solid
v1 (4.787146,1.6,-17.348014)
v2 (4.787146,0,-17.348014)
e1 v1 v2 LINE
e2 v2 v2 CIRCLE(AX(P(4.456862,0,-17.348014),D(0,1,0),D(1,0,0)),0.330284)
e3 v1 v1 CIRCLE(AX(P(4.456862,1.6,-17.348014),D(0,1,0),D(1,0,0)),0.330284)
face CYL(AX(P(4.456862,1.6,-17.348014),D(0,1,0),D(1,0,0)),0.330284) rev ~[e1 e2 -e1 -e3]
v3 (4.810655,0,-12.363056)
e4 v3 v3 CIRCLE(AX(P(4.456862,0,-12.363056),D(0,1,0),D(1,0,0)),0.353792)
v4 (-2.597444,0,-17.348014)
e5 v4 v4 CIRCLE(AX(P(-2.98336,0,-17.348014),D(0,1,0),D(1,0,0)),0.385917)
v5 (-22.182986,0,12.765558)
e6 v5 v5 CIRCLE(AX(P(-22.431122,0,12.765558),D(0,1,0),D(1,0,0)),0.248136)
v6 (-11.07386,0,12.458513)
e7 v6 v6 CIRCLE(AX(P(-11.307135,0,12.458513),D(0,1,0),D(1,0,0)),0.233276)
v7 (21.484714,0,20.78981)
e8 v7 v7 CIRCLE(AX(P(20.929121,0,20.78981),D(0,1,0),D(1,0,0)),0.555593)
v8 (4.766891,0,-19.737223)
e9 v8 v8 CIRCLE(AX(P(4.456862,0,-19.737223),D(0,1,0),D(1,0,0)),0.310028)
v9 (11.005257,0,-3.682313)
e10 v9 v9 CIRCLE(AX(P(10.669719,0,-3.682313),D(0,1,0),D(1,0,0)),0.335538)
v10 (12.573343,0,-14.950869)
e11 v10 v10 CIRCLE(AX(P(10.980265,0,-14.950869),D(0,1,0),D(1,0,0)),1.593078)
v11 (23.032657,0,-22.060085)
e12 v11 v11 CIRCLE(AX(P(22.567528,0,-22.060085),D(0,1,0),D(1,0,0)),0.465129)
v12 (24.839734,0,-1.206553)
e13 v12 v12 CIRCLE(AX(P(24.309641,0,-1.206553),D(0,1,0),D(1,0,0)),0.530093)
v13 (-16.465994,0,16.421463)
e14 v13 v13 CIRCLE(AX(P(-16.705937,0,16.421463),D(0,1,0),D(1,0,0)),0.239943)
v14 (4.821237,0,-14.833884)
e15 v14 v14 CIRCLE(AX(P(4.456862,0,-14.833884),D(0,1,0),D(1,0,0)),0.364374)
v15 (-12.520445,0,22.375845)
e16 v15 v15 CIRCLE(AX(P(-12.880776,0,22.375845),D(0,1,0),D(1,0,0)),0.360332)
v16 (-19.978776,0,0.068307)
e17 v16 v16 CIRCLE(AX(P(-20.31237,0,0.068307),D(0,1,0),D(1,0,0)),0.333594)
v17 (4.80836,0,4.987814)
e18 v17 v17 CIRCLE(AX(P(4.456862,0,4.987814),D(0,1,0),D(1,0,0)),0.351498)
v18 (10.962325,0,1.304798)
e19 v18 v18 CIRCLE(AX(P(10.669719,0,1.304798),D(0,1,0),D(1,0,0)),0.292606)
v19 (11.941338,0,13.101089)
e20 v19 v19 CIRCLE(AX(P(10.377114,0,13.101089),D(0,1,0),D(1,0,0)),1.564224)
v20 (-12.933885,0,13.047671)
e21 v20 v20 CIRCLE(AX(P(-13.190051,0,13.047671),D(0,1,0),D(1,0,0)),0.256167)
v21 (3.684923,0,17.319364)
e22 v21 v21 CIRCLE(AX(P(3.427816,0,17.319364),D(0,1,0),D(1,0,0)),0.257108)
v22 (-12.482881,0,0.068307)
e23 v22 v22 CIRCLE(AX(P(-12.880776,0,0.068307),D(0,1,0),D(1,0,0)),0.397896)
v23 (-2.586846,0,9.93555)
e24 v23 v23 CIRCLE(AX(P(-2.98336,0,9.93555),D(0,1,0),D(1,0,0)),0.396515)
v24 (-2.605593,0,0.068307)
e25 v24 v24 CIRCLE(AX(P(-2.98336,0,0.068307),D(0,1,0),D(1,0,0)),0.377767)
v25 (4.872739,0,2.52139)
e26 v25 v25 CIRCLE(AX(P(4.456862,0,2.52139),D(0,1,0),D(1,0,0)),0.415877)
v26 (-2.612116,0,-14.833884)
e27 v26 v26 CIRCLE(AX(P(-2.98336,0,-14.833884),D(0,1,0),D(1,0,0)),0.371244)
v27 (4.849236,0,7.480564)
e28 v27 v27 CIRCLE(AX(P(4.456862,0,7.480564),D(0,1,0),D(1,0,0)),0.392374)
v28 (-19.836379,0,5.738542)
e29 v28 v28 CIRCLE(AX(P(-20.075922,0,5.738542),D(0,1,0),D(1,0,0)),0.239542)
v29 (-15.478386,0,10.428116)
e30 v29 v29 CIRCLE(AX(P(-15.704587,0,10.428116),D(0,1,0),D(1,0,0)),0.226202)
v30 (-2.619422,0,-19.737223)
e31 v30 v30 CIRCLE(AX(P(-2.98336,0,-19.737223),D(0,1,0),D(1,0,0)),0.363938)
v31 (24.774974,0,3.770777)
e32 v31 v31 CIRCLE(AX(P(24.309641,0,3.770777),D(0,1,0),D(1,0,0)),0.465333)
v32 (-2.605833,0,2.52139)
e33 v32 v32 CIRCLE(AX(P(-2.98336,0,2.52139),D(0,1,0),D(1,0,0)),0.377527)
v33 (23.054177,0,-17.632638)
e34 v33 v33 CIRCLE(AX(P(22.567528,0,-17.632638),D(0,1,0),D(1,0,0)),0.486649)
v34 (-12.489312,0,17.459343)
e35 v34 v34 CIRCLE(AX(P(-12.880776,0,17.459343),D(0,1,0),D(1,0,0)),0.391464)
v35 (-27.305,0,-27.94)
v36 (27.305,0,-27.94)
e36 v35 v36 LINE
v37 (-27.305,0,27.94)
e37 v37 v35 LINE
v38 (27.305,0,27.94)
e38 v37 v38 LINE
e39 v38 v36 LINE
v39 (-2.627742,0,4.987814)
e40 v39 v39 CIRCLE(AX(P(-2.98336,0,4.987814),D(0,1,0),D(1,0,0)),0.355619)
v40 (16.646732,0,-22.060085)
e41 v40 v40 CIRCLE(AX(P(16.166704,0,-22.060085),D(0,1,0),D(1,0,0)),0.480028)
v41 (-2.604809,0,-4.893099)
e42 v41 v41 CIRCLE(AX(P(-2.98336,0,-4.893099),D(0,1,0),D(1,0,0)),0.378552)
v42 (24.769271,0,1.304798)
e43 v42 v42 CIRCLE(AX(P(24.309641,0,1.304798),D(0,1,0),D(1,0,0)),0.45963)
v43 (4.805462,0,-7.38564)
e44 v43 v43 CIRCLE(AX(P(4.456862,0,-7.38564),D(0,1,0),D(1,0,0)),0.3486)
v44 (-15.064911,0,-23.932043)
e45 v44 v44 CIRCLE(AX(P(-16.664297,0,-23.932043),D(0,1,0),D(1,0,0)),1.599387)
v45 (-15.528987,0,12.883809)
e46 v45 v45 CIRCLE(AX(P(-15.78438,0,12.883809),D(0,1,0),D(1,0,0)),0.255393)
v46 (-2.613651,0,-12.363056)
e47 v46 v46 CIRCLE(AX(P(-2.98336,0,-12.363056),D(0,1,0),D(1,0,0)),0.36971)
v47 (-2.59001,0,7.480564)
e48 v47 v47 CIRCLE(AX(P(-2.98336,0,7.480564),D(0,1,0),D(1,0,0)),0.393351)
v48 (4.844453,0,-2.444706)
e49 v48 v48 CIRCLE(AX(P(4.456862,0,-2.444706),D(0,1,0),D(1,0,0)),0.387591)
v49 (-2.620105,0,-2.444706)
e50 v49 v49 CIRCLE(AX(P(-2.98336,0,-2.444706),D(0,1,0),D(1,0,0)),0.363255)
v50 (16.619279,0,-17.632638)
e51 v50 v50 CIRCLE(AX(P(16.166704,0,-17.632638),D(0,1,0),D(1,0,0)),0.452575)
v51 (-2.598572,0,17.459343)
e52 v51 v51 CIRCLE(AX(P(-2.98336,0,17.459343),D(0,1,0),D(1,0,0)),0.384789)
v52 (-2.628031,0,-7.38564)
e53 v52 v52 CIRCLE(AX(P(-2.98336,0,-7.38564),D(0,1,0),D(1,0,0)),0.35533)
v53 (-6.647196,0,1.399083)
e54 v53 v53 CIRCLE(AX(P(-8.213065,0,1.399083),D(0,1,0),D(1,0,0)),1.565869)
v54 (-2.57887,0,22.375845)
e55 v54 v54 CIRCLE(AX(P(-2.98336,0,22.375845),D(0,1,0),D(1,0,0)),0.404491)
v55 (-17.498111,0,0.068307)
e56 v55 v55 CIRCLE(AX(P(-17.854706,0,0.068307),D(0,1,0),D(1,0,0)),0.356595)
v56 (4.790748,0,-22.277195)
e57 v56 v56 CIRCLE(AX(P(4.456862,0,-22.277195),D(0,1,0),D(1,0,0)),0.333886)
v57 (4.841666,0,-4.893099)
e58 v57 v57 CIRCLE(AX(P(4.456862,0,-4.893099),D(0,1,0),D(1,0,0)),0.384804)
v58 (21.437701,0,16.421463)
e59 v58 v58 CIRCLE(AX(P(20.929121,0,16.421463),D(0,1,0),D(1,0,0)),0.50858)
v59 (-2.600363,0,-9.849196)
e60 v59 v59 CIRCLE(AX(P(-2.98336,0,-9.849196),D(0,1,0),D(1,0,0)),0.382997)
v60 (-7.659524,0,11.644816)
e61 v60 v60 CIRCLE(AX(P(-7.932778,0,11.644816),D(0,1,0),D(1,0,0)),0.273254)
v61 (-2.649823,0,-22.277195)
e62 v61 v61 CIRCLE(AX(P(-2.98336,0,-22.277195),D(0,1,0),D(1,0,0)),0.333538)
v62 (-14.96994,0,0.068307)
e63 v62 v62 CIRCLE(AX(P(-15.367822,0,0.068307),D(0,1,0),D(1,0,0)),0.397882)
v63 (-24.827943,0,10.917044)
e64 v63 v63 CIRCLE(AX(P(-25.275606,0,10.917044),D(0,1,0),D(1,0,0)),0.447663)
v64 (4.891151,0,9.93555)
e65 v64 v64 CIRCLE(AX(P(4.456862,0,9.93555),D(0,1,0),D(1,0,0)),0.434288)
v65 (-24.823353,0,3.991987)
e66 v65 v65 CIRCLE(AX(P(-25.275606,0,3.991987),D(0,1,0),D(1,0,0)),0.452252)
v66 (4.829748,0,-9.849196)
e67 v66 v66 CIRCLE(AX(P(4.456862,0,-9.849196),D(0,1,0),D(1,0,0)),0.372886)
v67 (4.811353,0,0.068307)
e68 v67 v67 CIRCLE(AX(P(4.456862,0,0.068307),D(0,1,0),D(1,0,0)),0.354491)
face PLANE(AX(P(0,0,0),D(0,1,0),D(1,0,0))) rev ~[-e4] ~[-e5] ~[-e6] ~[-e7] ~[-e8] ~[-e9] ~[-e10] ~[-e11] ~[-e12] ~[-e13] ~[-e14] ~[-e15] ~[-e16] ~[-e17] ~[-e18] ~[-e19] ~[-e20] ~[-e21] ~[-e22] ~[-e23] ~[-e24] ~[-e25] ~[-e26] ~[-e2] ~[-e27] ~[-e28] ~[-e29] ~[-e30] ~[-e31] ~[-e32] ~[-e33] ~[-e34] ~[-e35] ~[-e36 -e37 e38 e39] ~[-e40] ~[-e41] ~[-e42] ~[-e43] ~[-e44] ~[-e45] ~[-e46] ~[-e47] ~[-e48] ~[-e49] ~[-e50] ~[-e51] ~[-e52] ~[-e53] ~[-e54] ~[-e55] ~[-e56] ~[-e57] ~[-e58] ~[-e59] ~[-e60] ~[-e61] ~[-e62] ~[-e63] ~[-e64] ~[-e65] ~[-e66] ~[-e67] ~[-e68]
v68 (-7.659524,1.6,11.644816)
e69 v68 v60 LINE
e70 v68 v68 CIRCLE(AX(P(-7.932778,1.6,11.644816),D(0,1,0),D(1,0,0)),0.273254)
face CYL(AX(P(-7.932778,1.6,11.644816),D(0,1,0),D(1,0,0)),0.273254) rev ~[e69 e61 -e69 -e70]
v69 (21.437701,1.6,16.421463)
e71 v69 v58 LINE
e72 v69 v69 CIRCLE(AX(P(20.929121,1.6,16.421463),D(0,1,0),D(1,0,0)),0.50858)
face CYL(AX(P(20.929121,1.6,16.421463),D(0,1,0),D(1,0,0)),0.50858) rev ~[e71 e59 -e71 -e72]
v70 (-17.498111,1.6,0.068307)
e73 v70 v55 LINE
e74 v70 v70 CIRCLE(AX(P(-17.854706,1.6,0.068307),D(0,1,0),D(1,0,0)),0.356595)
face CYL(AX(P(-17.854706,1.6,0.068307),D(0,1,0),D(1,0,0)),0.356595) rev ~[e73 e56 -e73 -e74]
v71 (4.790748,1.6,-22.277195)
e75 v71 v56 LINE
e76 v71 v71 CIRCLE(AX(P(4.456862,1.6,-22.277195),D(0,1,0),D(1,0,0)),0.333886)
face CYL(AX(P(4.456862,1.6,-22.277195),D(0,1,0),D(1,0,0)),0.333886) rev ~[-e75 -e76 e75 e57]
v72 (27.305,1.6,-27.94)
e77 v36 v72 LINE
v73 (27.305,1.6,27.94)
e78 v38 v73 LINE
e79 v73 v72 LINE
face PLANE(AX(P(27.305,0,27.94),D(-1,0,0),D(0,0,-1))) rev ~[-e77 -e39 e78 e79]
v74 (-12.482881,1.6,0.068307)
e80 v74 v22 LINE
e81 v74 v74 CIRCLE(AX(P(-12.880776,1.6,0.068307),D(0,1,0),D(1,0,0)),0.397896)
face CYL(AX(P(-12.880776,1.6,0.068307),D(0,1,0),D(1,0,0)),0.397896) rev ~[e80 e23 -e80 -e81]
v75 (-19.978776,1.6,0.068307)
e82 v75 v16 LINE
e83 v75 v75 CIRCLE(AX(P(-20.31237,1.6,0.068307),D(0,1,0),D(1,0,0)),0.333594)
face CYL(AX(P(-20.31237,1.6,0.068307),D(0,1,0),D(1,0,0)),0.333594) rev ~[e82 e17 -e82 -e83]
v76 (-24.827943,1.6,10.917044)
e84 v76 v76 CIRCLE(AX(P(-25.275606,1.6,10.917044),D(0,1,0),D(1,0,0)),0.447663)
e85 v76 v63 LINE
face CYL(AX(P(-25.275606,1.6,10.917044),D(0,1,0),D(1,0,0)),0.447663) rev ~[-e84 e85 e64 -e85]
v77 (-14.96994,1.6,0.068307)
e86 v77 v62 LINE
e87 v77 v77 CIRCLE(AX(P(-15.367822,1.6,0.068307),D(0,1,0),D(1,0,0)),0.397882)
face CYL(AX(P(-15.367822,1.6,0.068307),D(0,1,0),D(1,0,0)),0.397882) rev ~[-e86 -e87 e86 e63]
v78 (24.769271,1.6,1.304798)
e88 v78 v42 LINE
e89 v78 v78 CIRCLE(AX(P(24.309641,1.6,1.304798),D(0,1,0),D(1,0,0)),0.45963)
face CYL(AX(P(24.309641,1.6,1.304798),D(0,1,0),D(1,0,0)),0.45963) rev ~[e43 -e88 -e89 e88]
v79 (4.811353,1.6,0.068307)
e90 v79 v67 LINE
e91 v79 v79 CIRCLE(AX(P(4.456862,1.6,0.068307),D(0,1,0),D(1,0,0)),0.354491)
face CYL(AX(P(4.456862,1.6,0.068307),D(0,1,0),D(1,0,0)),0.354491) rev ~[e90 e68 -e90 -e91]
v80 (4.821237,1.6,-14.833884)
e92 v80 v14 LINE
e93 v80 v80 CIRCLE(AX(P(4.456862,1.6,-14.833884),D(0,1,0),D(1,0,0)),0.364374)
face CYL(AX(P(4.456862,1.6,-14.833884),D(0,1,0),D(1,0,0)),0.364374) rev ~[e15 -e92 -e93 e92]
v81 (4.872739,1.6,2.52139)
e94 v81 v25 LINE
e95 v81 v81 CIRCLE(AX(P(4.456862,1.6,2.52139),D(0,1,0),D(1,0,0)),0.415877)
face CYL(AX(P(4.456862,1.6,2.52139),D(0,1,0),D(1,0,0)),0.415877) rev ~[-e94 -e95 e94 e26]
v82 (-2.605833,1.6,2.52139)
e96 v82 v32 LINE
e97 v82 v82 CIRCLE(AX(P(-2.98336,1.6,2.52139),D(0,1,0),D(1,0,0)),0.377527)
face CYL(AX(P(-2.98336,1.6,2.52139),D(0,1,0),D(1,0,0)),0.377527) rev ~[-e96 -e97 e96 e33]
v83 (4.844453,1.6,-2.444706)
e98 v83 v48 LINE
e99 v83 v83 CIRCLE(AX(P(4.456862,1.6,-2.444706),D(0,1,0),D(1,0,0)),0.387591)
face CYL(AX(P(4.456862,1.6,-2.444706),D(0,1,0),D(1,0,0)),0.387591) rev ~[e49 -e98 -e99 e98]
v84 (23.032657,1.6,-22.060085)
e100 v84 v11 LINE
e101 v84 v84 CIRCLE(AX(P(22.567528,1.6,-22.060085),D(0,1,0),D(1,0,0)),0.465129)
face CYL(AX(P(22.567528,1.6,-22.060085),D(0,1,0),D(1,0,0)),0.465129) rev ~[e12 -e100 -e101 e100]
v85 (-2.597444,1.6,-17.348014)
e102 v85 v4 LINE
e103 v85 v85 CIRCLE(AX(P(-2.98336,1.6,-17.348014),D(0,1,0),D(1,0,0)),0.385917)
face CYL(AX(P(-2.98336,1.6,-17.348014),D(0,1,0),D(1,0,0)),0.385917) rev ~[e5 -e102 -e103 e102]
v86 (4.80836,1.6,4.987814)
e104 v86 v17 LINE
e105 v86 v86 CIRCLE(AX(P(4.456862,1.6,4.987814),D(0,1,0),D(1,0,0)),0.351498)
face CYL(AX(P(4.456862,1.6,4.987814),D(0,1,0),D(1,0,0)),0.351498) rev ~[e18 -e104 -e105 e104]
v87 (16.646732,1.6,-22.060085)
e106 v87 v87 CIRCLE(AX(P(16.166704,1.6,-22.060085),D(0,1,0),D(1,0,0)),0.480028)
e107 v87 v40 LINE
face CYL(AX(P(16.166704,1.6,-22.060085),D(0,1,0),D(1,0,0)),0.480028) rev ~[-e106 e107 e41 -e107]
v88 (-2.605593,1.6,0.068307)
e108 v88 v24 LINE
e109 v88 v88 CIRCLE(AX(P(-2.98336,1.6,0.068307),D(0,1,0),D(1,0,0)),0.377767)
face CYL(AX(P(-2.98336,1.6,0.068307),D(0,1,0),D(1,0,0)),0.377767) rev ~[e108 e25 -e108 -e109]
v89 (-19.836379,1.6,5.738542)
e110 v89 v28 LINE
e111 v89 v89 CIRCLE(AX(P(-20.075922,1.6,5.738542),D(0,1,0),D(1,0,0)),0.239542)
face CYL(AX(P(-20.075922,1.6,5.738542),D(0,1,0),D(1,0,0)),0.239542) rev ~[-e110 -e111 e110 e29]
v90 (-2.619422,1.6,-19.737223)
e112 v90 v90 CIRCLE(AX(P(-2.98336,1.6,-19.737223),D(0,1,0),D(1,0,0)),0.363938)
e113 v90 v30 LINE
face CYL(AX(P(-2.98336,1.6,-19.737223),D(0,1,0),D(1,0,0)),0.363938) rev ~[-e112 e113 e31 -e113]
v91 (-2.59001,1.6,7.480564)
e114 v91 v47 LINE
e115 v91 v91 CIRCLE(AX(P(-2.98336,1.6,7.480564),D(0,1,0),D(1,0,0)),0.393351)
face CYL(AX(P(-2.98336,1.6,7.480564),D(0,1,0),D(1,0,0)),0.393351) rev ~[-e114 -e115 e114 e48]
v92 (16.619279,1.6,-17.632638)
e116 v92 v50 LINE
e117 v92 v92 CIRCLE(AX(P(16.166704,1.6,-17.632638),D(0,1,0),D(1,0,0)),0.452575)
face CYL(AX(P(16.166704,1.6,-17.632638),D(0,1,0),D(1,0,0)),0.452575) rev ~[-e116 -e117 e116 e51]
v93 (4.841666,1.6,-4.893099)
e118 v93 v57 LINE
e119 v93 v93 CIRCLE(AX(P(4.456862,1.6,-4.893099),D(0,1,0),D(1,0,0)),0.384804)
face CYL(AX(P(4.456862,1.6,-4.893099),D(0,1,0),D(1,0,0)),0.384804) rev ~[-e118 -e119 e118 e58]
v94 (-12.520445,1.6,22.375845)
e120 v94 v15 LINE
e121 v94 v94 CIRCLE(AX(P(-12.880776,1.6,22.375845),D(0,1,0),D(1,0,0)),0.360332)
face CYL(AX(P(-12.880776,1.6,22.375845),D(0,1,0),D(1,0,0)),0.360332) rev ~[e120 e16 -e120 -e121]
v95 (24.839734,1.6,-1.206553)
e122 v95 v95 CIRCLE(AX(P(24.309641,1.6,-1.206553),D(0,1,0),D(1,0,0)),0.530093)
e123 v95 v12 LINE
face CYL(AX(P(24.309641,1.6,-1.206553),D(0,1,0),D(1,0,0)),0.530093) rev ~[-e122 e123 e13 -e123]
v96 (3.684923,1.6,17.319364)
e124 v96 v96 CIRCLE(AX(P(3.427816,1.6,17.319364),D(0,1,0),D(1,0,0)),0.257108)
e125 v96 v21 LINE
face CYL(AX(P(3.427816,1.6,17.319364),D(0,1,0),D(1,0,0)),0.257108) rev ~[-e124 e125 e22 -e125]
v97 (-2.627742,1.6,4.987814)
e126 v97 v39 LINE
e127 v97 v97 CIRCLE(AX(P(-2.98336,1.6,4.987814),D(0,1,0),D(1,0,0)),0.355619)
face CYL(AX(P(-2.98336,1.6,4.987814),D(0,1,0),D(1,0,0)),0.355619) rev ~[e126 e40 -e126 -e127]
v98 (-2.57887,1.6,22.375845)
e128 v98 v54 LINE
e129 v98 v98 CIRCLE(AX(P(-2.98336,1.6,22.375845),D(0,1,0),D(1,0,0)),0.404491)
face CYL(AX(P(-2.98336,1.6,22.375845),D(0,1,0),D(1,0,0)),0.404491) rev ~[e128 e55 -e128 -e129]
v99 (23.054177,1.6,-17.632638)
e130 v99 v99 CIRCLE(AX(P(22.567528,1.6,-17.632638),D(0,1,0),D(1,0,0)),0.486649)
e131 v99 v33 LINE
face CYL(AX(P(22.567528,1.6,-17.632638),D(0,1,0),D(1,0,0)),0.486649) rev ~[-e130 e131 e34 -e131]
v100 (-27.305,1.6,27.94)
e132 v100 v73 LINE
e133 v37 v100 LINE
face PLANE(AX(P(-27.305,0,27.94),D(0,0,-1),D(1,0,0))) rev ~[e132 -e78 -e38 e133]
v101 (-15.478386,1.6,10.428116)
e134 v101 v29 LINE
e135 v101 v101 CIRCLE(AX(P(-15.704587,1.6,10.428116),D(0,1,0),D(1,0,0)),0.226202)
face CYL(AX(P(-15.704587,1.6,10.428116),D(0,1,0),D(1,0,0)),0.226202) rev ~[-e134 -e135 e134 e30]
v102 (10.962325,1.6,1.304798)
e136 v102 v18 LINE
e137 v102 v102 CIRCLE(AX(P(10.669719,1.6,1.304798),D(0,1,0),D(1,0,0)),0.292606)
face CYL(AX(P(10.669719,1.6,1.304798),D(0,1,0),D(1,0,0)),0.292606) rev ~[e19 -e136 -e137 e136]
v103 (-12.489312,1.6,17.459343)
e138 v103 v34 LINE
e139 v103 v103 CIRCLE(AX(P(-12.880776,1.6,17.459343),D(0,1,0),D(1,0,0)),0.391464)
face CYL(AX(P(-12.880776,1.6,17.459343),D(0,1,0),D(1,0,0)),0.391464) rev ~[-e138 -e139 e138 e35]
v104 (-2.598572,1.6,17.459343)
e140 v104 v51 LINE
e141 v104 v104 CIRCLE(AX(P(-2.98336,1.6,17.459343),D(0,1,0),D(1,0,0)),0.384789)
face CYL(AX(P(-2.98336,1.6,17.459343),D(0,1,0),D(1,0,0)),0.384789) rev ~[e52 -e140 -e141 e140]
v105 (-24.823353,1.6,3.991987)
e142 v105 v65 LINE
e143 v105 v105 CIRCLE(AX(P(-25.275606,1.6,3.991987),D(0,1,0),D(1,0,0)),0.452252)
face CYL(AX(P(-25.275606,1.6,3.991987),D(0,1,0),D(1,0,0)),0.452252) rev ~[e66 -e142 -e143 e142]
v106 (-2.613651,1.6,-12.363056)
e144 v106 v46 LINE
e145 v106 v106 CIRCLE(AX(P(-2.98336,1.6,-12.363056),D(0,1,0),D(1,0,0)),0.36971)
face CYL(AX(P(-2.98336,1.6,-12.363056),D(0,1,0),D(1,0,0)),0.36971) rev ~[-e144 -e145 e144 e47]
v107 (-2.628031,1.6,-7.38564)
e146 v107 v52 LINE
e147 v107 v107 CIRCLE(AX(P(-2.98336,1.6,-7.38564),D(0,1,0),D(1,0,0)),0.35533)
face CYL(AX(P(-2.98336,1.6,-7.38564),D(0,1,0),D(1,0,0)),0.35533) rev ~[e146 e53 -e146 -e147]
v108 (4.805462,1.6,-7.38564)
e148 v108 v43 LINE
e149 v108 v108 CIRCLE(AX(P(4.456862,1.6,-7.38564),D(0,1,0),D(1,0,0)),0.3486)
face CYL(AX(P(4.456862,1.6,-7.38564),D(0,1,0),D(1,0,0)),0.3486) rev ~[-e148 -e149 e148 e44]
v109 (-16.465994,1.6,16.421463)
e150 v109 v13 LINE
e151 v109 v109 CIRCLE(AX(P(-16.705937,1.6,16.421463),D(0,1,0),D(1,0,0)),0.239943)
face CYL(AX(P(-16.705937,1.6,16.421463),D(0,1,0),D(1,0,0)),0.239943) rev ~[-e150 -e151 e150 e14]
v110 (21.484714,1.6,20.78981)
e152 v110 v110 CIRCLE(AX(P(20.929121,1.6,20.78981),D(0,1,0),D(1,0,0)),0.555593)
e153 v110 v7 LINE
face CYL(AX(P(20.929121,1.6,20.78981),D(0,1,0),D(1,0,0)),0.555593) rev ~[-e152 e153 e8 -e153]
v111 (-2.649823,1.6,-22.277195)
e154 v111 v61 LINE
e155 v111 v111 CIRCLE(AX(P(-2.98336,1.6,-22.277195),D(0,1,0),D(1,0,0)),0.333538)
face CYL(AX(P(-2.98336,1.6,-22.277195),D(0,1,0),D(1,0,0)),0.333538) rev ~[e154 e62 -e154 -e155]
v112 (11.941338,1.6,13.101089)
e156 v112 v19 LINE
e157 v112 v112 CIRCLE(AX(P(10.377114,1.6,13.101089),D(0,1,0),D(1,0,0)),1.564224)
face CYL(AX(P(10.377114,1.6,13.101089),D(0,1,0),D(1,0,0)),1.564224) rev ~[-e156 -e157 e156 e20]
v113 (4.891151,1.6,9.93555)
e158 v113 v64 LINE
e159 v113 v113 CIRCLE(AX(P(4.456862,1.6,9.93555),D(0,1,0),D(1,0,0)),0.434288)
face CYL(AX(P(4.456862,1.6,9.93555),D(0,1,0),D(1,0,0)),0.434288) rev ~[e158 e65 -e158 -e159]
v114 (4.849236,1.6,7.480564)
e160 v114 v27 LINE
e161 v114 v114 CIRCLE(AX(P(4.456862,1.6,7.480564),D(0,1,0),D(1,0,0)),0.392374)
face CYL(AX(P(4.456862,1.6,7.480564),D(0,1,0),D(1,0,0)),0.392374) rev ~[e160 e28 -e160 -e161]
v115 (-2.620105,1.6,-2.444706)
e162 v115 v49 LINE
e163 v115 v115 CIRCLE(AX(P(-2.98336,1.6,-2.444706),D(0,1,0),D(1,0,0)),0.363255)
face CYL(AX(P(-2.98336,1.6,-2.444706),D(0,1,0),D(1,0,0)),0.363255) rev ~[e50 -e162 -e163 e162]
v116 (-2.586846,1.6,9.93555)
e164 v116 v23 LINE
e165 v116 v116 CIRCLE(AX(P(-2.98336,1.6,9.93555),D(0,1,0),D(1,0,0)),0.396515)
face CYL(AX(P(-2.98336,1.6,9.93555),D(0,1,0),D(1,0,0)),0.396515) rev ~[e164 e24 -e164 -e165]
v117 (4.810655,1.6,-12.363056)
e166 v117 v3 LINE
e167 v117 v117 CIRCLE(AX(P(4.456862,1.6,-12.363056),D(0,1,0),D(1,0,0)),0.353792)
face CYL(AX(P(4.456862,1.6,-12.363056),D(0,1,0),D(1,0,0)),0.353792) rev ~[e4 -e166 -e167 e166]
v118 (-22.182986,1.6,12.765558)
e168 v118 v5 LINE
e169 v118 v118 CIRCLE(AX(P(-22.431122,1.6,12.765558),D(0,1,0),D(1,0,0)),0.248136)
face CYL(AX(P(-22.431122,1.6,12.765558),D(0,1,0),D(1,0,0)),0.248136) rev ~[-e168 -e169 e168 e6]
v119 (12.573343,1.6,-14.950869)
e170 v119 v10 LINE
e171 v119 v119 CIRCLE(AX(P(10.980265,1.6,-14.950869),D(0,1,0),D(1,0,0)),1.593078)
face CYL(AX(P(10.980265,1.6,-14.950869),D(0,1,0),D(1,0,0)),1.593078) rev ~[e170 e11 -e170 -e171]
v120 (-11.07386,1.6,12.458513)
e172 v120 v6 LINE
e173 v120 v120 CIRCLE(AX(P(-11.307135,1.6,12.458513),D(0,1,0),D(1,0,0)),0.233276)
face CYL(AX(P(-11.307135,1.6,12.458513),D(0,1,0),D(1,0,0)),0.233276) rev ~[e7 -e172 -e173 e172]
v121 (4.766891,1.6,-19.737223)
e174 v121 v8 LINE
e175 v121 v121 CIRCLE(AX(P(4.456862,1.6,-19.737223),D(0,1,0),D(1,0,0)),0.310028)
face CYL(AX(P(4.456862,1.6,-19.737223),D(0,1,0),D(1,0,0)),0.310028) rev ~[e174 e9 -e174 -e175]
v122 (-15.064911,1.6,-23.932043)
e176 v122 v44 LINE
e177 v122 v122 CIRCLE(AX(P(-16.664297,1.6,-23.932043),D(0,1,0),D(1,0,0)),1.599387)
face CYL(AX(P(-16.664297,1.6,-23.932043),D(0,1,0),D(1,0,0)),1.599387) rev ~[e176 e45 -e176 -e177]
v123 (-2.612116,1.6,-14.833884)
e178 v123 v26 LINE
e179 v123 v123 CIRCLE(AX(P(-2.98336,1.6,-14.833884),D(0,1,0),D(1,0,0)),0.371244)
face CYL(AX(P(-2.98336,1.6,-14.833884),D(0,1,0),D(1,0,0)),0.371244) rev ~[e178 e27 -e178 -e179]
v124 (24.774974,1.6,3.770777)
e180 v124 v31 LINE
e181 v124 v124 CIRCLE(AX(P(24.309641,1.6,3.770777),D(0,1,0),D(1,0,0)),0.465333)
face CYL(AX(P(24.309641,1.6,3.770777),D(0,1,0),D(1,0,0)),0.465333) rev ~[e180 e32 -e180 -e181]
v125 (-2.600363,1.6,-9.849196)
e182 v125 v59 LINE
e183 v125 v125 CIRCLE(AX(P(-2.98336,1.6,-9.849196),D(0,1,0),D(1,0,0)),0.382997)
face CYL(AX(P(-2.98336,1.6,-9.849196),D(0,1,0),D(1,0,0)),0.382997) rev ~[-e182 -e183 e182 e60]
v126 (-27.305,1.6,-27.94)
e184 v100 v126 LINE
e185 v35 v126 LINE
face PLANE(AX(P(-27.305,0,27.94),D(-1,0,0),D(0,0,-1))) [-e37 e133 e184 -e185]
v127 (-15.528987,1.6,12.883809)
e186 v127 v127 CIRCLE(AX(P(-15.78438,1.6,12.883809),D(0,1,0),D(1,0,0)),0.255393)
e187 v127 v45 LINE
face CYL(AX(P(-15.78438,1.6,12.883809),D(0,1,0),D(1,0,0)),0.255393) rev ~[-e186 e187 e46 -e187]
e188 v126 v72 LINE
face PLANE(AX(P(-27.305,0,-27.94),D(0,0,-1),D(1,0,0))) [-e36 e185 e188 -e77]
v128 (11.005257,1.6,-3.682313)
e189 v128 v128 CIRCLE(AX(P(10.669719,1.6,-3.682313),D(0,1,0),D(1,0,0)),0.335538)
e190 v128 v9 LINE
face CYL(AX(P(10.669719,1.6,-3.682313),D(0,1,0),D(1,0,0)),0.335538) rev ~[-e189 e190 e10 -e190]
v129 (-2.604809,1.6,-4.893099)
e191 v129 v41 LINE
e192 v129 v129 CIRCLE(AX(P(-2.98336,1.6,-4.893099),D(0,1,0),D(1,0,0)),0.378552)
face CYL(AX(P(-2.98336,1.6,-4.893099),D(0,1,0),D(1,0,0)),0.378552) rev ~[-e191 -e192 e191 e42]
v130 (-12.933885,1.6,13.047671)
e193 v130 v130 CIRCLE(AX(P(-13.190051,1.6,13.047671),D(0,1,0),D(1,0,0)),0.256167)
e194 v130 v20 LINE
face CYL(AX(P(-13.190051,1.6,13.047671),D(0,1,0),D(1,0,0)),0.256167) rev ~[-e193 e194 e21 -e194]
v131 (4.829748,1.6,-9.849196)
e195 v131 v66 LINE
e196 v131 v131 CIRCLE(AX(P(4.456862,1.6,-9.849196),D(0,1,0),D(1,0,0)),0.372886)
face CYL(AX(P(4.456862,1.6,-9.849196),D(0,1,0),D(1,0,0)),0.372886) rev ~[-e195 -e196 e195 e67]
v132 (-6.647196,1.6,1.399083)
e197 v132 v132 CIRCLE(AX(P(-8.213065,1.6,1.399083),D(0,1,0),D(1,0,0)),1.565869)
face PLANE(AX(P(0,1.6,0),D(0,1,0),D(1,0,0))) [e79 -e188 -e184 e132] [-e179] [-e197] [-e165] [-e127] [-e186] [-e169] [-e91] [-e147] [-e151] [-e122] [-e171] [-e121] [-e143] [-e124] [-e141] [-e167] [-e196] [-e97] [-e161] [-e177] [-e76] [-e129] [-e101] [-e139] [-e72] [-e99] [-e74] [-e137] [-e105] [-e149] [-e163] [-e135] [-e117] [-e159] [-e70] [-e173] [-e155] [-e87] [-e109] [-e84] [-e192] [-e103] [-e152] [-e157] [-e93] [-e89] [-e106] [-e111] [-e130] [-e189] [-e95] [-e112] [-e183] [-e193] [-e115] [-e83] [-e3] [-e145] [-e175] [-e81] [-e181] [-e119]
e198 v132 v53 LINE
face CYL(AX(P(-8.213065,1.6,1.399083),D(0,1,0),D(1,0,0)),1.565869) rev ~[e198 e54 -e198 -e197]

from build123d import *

# Parameters (mm, degrees)
SKETCH1_W           = 54.61
SKETCH1_H           = 55.88
BOSS_EXTRUDE1_DEPTH = 1.6
SKETCH2_R           = 1.59938652
SKETCH2_R_2         = 1.593077756
SKETCH2_R_3         = 0.452574799
SKETCH2_R_4         = 0.480028064
SKETCH2_R_5         = 0.465129332
SKETCH2_R_6         = 0.486649453
SKETCH2_R_7         = 1.565869332
SKETCH2_R_8         = 0.397895911
SKETCH2_R_9         = 0.397882454
SKETCH2_R_10        = 0.356595037
SKETCH2_R_11        = 0.333594003
SKETCH2_R_12        = 0.239542347
SKETCH2_R_13        = 0.226201547
SKETCH2_R_14        = 0.233275918
SKETCH2_R_15        = 0.256166525
SKETCH2_R_16        = 0.255392926
SKETCH2_R_17        = 0.248136055
SKETCH2_R_18        = 0.447662922
SKETCH2_R_19        = 0.452252407
SKETCH2_R_20        = 0.239942714
SKETCH2_R_21        = 0.391464076
SKETCH2_R_22        = 0.360331554
SKETCH2_R_23        = 0.404490663
SKETCH2_R_24        = 0.384788584
SKETCH2_R_25        = 0.257107561
SKETCH2_R_26        = 0.273253907
SKETCH2_R_27        = 0.39651489
SKETCH2_R_28        = 0.393350562
SKETCH2_R_29        = 0.355618877
SKETCH2_R_30        = 0.377526949
SKETCH2_R_31        = 0.377766955
SKETCH2_R_32        = 0.36325523
SKETCH2_R_33        = 0.378551554
SKETCH2_R_34        = 0.355329697
SKETCH2_R_35        = 0.382997324
SKETCH2_R_36        = 0.369709734
SKETCH2_R_37        = 0.37124433
SKETCH2_R_38        = 0.385916857
SKETCH2_R_39        = 0.363938308
SKETCH2_R_40        = 0.333537697
SKETCH2_R_41        = 0.310028392
SKETCH2_R_42        = 0.333886041
SKETCH2_R_43        = 0.330283809
SKETCH2_R_44        = 0.364374395
SKETCH2_R_45        = 0.353792472
SKETCH2_R_46        = 0.372885559
SKETCH2_R_47        = 0.348600153
SKETCH2_R_48        = 0.384803628
SKETCH2_R_49        = 0.387591086
SKETCH2_R_50        = 0.354490901
SKETCH2_R_51        = 0.415876944
SKETCH2_R_52        = 0.351498041
SKETCH2_R_53        = 0.392374017
SKETCH2_R_54        = 0.434288257
SKETCH2_R_55        = 0.292605843
SKETCH2_R_56        = 0.335537626
SKETCH2_R_57        = 1.564224328
SKETCH2_R_58        = 0.508580285
SKETCH2_R_59        = 0.555593041
SKETCH2_R_60        = 0.530092741
SKETCH2_R_61        = 0.459629548
SKETCH2_R_62        = 0.465333024
CUT_EXTRUDE1_DEPTH  = 2.6


with BuildPart() as part:
    # Sketch1 → Boss-Extrude1 (new body)
    with BuildSketch(Plane(origin=(0, 0, 0), x_dir=(1, 0, 0), z_dir=(0, 1, 0))):
        Rectangle(SKETCH1_W, SKETCH1_H)
    extrude(amount=BOSS_EXTRUDE1_DEPTH)

    # Sketch2 → Cut-Extrude1 (cut, through all)
    with BuildSketch(Plane(origin=(0, 1.6, 0), x_dir=(1, 0, 0), z_dir=(0, 1, 0))):
        with Locations((-16.664297308, 23.932043145)):
            Circle(SKETCH2_R)
        with Locations((10.980265243, 14.950869261)):
            Circle(SKETCH2_R_2)
        with Locations((16.166703819, 17.6326375)):
            Circle(SKETCH2_R_3)
        with Locations((16.166703819, 22.060085065)):
            Circle(SKETCH2_R_4)
        with Locations((22.567528012, 22.060085065)):
            Circle(SKETCH2_R_5)
        with Locations((22.567528012, 17.6326375)):
            Circle(SKETCH2_R_6)
        with Locations((-8.213065376, -1.3990828)):
            Circle(SKETCH2_R_7)
        with Locations((-12.880776497, -0.068306864)):
            Circle(SKETCH2_R_8)
        with Locations((-15.367822181, -0.068306864)):
            Circle(SKETCH2_R_9)
        with Locations((-17.854706203, -0.068306864)):
            Circle(SKETCH2_R_10)
        with Locations((-20.312369623, -0.068306864)):
            Circle(SKETCH2_R_11)
        with Locations((-20.075921844, -5.738541726)):
            Circle(SKETCH2_R_12)
        with Locations((-15.704587313, -10.428115561)):
            Circle(SKETCH2_R_13)
        with Locations((-11.307135458, -12.45851306)):
            Circle(SKETCH2_R_14)
        with Locations((-13.190051269, -13.04767065)):
            Circle(SKETCH2_R_15)
        with Locations((-15.784379921, -12.883809097)):
            Circle(SKETCH2_R_16)
        with Locations((-22.431122431, -12.765558111)):
            Circle(SKETCH2_R_17)
        with Locations((-25.275605658, -10.917044443)):
            Circle(SKETCH2_R_18)
        with Locations((-25.275605658, -3.991987316)):
            Circle(SKETCH2_R_19)
        with Locations((-16.705936806, -16.421463043)):
            Circle(SKETCH2_R_20)
        with Locations((-12.880776497, -17.459342868)):
            Circle(SKETCH2_R_21)
        with Locations((-12.880776497, -22.375845154)):
            Circle(SKETCH2_R_22)
        with Locations((-2.983360407, -22.375845154)):
            Circle(SKETCH2_R_23)
        with Locations((-2.983360407, -17.459342868)):
            Circle(SKETCH2_R_24)
        with Locations((3.427815902, -17.319364157)):
            Circle(SKETCH2_R_25)
        with Locations((-7.932777582, -11.644816009)):
            Circle(SKETCH2_R_26)
        with Locations((-2.983360407, -9.935549628)):
            Circle(SKETCH2_R_27)
        with Locations((-2.983360407, -7.480563575)):
            Circle(SKETCH2_R_28)
        with Locations((-2.983360407, -4.987813874)):
            Circle(SKETCH2_R_29)
        with Locations((-2.983360407, -2.521390191)):
            Circle(SKETCH2_R_30)
        with Locations((-2.983360407, -0.068306864)):
            Circle(SKETCH2_R_31)
        with Locations((-2.983360407, 2.444706456)):
            Circle(SKETCH2_R_32)
        with Locations((-2.983360407, 4.893099371)):
            Circle(SKETCH2_R_33)
        with Locations((-2.983360407, 7.385639552)):
            Circle(SKETCH2_R_34)
        with Locations((-2.983360407, 9.849195982)):
            Circle(SKETCH2_R_35)
        with Locations((-2.983360407, 12.363056337)):
            Circle(SKETCH2_R_36)
        with Locations((-2.983360407, 14.833883975)):
            Circle(SKETCH2_R_37)
        with Locations((-2.983360407, 17.348014362)):
            Circle(SKETCH2_R_38)
        with Locations((-2.983360407, 19.737222803)):
            Circle(SKETCH2_R_39)
        with Locations((-2.983360407, 22.277194941)):
            Circle(SKETCH2_R_40)
        with Locations((4.456862321, 19.737222803)):
            Circle(SKETCH2_R_41)
        with Locations((4.456862321, 22.277194941)):
            Circle(SKETCH2_R_42)
        with Locations((4.456862321, 17.348014362)):
            Circle(SKETCH2_R_43)
        with Locations((4.456862321, 14.833883975)):
            Circle(SKETCH2_R_44)
        with Locations((4.456862321, 12.363056337)):
            Circle(SKETCH2_R_45)
        with Locations((4.456862321, 9.849195982)):
            Circle(SKETCH2_R_46)
        with Locations((4.456862321, 7.385639552)):
            Circle(SKETCH2_R_47)
        with Locations((4.456862321, 4.893099371)):
            Circle(SKETCH2_R_48)
        with Locations((4.456862321, 2.444706456)):
            Circle(SKETCH2_R_49)
        with Locations((4.456862321, -0.068306864)):
            Circle(SKETCH2_R_50)
        with Locations((4.456862321, -2.521390191)):
            Circle(SKETCH2_R_51)
        with Locations((4.456862321, -4.987813874)):
            Circle(SKETCH2_R_52)
        with Locations((4.456862321, -7.480563575)):
            Circle(SKETCH2_R_53)
        with Locations((4.456862321, -9.935549628)):
            Circle(SKETCH2_R_54)
        with Locations((10.669719496, -1.304797587)):
            Circle(SKETCH2_R_55)
        with Locations((10.669719496, 3.682313247)):
            Circle(SKETCH2_R_56)
        with Locations((10.377113652, -13.101088656)):
            Circle(SKETCH2_R_57)
        with Locations((20.92912061, -16.421463043)):
            Circle(SKETCH2_R_58)
        with Locations((20.92912061, -20.789810067)):
            Circle(SKETCH2_R_59)
        with Locations((24.309641026, 1.206553039)):
            Circle(SKETCH2_R_60)
        with Locations((24.309641026, -1.304797587)):
            Circle(SKETCH2_R_61)
        with Locations((24.309641026, -3.770776983)):
            Circle(SKETCH2_R_62)
    extrude(amount=-CUT_EXTRUDE1_DEPTH, mode=Mode.SUBTRACT)


solid = part.part
